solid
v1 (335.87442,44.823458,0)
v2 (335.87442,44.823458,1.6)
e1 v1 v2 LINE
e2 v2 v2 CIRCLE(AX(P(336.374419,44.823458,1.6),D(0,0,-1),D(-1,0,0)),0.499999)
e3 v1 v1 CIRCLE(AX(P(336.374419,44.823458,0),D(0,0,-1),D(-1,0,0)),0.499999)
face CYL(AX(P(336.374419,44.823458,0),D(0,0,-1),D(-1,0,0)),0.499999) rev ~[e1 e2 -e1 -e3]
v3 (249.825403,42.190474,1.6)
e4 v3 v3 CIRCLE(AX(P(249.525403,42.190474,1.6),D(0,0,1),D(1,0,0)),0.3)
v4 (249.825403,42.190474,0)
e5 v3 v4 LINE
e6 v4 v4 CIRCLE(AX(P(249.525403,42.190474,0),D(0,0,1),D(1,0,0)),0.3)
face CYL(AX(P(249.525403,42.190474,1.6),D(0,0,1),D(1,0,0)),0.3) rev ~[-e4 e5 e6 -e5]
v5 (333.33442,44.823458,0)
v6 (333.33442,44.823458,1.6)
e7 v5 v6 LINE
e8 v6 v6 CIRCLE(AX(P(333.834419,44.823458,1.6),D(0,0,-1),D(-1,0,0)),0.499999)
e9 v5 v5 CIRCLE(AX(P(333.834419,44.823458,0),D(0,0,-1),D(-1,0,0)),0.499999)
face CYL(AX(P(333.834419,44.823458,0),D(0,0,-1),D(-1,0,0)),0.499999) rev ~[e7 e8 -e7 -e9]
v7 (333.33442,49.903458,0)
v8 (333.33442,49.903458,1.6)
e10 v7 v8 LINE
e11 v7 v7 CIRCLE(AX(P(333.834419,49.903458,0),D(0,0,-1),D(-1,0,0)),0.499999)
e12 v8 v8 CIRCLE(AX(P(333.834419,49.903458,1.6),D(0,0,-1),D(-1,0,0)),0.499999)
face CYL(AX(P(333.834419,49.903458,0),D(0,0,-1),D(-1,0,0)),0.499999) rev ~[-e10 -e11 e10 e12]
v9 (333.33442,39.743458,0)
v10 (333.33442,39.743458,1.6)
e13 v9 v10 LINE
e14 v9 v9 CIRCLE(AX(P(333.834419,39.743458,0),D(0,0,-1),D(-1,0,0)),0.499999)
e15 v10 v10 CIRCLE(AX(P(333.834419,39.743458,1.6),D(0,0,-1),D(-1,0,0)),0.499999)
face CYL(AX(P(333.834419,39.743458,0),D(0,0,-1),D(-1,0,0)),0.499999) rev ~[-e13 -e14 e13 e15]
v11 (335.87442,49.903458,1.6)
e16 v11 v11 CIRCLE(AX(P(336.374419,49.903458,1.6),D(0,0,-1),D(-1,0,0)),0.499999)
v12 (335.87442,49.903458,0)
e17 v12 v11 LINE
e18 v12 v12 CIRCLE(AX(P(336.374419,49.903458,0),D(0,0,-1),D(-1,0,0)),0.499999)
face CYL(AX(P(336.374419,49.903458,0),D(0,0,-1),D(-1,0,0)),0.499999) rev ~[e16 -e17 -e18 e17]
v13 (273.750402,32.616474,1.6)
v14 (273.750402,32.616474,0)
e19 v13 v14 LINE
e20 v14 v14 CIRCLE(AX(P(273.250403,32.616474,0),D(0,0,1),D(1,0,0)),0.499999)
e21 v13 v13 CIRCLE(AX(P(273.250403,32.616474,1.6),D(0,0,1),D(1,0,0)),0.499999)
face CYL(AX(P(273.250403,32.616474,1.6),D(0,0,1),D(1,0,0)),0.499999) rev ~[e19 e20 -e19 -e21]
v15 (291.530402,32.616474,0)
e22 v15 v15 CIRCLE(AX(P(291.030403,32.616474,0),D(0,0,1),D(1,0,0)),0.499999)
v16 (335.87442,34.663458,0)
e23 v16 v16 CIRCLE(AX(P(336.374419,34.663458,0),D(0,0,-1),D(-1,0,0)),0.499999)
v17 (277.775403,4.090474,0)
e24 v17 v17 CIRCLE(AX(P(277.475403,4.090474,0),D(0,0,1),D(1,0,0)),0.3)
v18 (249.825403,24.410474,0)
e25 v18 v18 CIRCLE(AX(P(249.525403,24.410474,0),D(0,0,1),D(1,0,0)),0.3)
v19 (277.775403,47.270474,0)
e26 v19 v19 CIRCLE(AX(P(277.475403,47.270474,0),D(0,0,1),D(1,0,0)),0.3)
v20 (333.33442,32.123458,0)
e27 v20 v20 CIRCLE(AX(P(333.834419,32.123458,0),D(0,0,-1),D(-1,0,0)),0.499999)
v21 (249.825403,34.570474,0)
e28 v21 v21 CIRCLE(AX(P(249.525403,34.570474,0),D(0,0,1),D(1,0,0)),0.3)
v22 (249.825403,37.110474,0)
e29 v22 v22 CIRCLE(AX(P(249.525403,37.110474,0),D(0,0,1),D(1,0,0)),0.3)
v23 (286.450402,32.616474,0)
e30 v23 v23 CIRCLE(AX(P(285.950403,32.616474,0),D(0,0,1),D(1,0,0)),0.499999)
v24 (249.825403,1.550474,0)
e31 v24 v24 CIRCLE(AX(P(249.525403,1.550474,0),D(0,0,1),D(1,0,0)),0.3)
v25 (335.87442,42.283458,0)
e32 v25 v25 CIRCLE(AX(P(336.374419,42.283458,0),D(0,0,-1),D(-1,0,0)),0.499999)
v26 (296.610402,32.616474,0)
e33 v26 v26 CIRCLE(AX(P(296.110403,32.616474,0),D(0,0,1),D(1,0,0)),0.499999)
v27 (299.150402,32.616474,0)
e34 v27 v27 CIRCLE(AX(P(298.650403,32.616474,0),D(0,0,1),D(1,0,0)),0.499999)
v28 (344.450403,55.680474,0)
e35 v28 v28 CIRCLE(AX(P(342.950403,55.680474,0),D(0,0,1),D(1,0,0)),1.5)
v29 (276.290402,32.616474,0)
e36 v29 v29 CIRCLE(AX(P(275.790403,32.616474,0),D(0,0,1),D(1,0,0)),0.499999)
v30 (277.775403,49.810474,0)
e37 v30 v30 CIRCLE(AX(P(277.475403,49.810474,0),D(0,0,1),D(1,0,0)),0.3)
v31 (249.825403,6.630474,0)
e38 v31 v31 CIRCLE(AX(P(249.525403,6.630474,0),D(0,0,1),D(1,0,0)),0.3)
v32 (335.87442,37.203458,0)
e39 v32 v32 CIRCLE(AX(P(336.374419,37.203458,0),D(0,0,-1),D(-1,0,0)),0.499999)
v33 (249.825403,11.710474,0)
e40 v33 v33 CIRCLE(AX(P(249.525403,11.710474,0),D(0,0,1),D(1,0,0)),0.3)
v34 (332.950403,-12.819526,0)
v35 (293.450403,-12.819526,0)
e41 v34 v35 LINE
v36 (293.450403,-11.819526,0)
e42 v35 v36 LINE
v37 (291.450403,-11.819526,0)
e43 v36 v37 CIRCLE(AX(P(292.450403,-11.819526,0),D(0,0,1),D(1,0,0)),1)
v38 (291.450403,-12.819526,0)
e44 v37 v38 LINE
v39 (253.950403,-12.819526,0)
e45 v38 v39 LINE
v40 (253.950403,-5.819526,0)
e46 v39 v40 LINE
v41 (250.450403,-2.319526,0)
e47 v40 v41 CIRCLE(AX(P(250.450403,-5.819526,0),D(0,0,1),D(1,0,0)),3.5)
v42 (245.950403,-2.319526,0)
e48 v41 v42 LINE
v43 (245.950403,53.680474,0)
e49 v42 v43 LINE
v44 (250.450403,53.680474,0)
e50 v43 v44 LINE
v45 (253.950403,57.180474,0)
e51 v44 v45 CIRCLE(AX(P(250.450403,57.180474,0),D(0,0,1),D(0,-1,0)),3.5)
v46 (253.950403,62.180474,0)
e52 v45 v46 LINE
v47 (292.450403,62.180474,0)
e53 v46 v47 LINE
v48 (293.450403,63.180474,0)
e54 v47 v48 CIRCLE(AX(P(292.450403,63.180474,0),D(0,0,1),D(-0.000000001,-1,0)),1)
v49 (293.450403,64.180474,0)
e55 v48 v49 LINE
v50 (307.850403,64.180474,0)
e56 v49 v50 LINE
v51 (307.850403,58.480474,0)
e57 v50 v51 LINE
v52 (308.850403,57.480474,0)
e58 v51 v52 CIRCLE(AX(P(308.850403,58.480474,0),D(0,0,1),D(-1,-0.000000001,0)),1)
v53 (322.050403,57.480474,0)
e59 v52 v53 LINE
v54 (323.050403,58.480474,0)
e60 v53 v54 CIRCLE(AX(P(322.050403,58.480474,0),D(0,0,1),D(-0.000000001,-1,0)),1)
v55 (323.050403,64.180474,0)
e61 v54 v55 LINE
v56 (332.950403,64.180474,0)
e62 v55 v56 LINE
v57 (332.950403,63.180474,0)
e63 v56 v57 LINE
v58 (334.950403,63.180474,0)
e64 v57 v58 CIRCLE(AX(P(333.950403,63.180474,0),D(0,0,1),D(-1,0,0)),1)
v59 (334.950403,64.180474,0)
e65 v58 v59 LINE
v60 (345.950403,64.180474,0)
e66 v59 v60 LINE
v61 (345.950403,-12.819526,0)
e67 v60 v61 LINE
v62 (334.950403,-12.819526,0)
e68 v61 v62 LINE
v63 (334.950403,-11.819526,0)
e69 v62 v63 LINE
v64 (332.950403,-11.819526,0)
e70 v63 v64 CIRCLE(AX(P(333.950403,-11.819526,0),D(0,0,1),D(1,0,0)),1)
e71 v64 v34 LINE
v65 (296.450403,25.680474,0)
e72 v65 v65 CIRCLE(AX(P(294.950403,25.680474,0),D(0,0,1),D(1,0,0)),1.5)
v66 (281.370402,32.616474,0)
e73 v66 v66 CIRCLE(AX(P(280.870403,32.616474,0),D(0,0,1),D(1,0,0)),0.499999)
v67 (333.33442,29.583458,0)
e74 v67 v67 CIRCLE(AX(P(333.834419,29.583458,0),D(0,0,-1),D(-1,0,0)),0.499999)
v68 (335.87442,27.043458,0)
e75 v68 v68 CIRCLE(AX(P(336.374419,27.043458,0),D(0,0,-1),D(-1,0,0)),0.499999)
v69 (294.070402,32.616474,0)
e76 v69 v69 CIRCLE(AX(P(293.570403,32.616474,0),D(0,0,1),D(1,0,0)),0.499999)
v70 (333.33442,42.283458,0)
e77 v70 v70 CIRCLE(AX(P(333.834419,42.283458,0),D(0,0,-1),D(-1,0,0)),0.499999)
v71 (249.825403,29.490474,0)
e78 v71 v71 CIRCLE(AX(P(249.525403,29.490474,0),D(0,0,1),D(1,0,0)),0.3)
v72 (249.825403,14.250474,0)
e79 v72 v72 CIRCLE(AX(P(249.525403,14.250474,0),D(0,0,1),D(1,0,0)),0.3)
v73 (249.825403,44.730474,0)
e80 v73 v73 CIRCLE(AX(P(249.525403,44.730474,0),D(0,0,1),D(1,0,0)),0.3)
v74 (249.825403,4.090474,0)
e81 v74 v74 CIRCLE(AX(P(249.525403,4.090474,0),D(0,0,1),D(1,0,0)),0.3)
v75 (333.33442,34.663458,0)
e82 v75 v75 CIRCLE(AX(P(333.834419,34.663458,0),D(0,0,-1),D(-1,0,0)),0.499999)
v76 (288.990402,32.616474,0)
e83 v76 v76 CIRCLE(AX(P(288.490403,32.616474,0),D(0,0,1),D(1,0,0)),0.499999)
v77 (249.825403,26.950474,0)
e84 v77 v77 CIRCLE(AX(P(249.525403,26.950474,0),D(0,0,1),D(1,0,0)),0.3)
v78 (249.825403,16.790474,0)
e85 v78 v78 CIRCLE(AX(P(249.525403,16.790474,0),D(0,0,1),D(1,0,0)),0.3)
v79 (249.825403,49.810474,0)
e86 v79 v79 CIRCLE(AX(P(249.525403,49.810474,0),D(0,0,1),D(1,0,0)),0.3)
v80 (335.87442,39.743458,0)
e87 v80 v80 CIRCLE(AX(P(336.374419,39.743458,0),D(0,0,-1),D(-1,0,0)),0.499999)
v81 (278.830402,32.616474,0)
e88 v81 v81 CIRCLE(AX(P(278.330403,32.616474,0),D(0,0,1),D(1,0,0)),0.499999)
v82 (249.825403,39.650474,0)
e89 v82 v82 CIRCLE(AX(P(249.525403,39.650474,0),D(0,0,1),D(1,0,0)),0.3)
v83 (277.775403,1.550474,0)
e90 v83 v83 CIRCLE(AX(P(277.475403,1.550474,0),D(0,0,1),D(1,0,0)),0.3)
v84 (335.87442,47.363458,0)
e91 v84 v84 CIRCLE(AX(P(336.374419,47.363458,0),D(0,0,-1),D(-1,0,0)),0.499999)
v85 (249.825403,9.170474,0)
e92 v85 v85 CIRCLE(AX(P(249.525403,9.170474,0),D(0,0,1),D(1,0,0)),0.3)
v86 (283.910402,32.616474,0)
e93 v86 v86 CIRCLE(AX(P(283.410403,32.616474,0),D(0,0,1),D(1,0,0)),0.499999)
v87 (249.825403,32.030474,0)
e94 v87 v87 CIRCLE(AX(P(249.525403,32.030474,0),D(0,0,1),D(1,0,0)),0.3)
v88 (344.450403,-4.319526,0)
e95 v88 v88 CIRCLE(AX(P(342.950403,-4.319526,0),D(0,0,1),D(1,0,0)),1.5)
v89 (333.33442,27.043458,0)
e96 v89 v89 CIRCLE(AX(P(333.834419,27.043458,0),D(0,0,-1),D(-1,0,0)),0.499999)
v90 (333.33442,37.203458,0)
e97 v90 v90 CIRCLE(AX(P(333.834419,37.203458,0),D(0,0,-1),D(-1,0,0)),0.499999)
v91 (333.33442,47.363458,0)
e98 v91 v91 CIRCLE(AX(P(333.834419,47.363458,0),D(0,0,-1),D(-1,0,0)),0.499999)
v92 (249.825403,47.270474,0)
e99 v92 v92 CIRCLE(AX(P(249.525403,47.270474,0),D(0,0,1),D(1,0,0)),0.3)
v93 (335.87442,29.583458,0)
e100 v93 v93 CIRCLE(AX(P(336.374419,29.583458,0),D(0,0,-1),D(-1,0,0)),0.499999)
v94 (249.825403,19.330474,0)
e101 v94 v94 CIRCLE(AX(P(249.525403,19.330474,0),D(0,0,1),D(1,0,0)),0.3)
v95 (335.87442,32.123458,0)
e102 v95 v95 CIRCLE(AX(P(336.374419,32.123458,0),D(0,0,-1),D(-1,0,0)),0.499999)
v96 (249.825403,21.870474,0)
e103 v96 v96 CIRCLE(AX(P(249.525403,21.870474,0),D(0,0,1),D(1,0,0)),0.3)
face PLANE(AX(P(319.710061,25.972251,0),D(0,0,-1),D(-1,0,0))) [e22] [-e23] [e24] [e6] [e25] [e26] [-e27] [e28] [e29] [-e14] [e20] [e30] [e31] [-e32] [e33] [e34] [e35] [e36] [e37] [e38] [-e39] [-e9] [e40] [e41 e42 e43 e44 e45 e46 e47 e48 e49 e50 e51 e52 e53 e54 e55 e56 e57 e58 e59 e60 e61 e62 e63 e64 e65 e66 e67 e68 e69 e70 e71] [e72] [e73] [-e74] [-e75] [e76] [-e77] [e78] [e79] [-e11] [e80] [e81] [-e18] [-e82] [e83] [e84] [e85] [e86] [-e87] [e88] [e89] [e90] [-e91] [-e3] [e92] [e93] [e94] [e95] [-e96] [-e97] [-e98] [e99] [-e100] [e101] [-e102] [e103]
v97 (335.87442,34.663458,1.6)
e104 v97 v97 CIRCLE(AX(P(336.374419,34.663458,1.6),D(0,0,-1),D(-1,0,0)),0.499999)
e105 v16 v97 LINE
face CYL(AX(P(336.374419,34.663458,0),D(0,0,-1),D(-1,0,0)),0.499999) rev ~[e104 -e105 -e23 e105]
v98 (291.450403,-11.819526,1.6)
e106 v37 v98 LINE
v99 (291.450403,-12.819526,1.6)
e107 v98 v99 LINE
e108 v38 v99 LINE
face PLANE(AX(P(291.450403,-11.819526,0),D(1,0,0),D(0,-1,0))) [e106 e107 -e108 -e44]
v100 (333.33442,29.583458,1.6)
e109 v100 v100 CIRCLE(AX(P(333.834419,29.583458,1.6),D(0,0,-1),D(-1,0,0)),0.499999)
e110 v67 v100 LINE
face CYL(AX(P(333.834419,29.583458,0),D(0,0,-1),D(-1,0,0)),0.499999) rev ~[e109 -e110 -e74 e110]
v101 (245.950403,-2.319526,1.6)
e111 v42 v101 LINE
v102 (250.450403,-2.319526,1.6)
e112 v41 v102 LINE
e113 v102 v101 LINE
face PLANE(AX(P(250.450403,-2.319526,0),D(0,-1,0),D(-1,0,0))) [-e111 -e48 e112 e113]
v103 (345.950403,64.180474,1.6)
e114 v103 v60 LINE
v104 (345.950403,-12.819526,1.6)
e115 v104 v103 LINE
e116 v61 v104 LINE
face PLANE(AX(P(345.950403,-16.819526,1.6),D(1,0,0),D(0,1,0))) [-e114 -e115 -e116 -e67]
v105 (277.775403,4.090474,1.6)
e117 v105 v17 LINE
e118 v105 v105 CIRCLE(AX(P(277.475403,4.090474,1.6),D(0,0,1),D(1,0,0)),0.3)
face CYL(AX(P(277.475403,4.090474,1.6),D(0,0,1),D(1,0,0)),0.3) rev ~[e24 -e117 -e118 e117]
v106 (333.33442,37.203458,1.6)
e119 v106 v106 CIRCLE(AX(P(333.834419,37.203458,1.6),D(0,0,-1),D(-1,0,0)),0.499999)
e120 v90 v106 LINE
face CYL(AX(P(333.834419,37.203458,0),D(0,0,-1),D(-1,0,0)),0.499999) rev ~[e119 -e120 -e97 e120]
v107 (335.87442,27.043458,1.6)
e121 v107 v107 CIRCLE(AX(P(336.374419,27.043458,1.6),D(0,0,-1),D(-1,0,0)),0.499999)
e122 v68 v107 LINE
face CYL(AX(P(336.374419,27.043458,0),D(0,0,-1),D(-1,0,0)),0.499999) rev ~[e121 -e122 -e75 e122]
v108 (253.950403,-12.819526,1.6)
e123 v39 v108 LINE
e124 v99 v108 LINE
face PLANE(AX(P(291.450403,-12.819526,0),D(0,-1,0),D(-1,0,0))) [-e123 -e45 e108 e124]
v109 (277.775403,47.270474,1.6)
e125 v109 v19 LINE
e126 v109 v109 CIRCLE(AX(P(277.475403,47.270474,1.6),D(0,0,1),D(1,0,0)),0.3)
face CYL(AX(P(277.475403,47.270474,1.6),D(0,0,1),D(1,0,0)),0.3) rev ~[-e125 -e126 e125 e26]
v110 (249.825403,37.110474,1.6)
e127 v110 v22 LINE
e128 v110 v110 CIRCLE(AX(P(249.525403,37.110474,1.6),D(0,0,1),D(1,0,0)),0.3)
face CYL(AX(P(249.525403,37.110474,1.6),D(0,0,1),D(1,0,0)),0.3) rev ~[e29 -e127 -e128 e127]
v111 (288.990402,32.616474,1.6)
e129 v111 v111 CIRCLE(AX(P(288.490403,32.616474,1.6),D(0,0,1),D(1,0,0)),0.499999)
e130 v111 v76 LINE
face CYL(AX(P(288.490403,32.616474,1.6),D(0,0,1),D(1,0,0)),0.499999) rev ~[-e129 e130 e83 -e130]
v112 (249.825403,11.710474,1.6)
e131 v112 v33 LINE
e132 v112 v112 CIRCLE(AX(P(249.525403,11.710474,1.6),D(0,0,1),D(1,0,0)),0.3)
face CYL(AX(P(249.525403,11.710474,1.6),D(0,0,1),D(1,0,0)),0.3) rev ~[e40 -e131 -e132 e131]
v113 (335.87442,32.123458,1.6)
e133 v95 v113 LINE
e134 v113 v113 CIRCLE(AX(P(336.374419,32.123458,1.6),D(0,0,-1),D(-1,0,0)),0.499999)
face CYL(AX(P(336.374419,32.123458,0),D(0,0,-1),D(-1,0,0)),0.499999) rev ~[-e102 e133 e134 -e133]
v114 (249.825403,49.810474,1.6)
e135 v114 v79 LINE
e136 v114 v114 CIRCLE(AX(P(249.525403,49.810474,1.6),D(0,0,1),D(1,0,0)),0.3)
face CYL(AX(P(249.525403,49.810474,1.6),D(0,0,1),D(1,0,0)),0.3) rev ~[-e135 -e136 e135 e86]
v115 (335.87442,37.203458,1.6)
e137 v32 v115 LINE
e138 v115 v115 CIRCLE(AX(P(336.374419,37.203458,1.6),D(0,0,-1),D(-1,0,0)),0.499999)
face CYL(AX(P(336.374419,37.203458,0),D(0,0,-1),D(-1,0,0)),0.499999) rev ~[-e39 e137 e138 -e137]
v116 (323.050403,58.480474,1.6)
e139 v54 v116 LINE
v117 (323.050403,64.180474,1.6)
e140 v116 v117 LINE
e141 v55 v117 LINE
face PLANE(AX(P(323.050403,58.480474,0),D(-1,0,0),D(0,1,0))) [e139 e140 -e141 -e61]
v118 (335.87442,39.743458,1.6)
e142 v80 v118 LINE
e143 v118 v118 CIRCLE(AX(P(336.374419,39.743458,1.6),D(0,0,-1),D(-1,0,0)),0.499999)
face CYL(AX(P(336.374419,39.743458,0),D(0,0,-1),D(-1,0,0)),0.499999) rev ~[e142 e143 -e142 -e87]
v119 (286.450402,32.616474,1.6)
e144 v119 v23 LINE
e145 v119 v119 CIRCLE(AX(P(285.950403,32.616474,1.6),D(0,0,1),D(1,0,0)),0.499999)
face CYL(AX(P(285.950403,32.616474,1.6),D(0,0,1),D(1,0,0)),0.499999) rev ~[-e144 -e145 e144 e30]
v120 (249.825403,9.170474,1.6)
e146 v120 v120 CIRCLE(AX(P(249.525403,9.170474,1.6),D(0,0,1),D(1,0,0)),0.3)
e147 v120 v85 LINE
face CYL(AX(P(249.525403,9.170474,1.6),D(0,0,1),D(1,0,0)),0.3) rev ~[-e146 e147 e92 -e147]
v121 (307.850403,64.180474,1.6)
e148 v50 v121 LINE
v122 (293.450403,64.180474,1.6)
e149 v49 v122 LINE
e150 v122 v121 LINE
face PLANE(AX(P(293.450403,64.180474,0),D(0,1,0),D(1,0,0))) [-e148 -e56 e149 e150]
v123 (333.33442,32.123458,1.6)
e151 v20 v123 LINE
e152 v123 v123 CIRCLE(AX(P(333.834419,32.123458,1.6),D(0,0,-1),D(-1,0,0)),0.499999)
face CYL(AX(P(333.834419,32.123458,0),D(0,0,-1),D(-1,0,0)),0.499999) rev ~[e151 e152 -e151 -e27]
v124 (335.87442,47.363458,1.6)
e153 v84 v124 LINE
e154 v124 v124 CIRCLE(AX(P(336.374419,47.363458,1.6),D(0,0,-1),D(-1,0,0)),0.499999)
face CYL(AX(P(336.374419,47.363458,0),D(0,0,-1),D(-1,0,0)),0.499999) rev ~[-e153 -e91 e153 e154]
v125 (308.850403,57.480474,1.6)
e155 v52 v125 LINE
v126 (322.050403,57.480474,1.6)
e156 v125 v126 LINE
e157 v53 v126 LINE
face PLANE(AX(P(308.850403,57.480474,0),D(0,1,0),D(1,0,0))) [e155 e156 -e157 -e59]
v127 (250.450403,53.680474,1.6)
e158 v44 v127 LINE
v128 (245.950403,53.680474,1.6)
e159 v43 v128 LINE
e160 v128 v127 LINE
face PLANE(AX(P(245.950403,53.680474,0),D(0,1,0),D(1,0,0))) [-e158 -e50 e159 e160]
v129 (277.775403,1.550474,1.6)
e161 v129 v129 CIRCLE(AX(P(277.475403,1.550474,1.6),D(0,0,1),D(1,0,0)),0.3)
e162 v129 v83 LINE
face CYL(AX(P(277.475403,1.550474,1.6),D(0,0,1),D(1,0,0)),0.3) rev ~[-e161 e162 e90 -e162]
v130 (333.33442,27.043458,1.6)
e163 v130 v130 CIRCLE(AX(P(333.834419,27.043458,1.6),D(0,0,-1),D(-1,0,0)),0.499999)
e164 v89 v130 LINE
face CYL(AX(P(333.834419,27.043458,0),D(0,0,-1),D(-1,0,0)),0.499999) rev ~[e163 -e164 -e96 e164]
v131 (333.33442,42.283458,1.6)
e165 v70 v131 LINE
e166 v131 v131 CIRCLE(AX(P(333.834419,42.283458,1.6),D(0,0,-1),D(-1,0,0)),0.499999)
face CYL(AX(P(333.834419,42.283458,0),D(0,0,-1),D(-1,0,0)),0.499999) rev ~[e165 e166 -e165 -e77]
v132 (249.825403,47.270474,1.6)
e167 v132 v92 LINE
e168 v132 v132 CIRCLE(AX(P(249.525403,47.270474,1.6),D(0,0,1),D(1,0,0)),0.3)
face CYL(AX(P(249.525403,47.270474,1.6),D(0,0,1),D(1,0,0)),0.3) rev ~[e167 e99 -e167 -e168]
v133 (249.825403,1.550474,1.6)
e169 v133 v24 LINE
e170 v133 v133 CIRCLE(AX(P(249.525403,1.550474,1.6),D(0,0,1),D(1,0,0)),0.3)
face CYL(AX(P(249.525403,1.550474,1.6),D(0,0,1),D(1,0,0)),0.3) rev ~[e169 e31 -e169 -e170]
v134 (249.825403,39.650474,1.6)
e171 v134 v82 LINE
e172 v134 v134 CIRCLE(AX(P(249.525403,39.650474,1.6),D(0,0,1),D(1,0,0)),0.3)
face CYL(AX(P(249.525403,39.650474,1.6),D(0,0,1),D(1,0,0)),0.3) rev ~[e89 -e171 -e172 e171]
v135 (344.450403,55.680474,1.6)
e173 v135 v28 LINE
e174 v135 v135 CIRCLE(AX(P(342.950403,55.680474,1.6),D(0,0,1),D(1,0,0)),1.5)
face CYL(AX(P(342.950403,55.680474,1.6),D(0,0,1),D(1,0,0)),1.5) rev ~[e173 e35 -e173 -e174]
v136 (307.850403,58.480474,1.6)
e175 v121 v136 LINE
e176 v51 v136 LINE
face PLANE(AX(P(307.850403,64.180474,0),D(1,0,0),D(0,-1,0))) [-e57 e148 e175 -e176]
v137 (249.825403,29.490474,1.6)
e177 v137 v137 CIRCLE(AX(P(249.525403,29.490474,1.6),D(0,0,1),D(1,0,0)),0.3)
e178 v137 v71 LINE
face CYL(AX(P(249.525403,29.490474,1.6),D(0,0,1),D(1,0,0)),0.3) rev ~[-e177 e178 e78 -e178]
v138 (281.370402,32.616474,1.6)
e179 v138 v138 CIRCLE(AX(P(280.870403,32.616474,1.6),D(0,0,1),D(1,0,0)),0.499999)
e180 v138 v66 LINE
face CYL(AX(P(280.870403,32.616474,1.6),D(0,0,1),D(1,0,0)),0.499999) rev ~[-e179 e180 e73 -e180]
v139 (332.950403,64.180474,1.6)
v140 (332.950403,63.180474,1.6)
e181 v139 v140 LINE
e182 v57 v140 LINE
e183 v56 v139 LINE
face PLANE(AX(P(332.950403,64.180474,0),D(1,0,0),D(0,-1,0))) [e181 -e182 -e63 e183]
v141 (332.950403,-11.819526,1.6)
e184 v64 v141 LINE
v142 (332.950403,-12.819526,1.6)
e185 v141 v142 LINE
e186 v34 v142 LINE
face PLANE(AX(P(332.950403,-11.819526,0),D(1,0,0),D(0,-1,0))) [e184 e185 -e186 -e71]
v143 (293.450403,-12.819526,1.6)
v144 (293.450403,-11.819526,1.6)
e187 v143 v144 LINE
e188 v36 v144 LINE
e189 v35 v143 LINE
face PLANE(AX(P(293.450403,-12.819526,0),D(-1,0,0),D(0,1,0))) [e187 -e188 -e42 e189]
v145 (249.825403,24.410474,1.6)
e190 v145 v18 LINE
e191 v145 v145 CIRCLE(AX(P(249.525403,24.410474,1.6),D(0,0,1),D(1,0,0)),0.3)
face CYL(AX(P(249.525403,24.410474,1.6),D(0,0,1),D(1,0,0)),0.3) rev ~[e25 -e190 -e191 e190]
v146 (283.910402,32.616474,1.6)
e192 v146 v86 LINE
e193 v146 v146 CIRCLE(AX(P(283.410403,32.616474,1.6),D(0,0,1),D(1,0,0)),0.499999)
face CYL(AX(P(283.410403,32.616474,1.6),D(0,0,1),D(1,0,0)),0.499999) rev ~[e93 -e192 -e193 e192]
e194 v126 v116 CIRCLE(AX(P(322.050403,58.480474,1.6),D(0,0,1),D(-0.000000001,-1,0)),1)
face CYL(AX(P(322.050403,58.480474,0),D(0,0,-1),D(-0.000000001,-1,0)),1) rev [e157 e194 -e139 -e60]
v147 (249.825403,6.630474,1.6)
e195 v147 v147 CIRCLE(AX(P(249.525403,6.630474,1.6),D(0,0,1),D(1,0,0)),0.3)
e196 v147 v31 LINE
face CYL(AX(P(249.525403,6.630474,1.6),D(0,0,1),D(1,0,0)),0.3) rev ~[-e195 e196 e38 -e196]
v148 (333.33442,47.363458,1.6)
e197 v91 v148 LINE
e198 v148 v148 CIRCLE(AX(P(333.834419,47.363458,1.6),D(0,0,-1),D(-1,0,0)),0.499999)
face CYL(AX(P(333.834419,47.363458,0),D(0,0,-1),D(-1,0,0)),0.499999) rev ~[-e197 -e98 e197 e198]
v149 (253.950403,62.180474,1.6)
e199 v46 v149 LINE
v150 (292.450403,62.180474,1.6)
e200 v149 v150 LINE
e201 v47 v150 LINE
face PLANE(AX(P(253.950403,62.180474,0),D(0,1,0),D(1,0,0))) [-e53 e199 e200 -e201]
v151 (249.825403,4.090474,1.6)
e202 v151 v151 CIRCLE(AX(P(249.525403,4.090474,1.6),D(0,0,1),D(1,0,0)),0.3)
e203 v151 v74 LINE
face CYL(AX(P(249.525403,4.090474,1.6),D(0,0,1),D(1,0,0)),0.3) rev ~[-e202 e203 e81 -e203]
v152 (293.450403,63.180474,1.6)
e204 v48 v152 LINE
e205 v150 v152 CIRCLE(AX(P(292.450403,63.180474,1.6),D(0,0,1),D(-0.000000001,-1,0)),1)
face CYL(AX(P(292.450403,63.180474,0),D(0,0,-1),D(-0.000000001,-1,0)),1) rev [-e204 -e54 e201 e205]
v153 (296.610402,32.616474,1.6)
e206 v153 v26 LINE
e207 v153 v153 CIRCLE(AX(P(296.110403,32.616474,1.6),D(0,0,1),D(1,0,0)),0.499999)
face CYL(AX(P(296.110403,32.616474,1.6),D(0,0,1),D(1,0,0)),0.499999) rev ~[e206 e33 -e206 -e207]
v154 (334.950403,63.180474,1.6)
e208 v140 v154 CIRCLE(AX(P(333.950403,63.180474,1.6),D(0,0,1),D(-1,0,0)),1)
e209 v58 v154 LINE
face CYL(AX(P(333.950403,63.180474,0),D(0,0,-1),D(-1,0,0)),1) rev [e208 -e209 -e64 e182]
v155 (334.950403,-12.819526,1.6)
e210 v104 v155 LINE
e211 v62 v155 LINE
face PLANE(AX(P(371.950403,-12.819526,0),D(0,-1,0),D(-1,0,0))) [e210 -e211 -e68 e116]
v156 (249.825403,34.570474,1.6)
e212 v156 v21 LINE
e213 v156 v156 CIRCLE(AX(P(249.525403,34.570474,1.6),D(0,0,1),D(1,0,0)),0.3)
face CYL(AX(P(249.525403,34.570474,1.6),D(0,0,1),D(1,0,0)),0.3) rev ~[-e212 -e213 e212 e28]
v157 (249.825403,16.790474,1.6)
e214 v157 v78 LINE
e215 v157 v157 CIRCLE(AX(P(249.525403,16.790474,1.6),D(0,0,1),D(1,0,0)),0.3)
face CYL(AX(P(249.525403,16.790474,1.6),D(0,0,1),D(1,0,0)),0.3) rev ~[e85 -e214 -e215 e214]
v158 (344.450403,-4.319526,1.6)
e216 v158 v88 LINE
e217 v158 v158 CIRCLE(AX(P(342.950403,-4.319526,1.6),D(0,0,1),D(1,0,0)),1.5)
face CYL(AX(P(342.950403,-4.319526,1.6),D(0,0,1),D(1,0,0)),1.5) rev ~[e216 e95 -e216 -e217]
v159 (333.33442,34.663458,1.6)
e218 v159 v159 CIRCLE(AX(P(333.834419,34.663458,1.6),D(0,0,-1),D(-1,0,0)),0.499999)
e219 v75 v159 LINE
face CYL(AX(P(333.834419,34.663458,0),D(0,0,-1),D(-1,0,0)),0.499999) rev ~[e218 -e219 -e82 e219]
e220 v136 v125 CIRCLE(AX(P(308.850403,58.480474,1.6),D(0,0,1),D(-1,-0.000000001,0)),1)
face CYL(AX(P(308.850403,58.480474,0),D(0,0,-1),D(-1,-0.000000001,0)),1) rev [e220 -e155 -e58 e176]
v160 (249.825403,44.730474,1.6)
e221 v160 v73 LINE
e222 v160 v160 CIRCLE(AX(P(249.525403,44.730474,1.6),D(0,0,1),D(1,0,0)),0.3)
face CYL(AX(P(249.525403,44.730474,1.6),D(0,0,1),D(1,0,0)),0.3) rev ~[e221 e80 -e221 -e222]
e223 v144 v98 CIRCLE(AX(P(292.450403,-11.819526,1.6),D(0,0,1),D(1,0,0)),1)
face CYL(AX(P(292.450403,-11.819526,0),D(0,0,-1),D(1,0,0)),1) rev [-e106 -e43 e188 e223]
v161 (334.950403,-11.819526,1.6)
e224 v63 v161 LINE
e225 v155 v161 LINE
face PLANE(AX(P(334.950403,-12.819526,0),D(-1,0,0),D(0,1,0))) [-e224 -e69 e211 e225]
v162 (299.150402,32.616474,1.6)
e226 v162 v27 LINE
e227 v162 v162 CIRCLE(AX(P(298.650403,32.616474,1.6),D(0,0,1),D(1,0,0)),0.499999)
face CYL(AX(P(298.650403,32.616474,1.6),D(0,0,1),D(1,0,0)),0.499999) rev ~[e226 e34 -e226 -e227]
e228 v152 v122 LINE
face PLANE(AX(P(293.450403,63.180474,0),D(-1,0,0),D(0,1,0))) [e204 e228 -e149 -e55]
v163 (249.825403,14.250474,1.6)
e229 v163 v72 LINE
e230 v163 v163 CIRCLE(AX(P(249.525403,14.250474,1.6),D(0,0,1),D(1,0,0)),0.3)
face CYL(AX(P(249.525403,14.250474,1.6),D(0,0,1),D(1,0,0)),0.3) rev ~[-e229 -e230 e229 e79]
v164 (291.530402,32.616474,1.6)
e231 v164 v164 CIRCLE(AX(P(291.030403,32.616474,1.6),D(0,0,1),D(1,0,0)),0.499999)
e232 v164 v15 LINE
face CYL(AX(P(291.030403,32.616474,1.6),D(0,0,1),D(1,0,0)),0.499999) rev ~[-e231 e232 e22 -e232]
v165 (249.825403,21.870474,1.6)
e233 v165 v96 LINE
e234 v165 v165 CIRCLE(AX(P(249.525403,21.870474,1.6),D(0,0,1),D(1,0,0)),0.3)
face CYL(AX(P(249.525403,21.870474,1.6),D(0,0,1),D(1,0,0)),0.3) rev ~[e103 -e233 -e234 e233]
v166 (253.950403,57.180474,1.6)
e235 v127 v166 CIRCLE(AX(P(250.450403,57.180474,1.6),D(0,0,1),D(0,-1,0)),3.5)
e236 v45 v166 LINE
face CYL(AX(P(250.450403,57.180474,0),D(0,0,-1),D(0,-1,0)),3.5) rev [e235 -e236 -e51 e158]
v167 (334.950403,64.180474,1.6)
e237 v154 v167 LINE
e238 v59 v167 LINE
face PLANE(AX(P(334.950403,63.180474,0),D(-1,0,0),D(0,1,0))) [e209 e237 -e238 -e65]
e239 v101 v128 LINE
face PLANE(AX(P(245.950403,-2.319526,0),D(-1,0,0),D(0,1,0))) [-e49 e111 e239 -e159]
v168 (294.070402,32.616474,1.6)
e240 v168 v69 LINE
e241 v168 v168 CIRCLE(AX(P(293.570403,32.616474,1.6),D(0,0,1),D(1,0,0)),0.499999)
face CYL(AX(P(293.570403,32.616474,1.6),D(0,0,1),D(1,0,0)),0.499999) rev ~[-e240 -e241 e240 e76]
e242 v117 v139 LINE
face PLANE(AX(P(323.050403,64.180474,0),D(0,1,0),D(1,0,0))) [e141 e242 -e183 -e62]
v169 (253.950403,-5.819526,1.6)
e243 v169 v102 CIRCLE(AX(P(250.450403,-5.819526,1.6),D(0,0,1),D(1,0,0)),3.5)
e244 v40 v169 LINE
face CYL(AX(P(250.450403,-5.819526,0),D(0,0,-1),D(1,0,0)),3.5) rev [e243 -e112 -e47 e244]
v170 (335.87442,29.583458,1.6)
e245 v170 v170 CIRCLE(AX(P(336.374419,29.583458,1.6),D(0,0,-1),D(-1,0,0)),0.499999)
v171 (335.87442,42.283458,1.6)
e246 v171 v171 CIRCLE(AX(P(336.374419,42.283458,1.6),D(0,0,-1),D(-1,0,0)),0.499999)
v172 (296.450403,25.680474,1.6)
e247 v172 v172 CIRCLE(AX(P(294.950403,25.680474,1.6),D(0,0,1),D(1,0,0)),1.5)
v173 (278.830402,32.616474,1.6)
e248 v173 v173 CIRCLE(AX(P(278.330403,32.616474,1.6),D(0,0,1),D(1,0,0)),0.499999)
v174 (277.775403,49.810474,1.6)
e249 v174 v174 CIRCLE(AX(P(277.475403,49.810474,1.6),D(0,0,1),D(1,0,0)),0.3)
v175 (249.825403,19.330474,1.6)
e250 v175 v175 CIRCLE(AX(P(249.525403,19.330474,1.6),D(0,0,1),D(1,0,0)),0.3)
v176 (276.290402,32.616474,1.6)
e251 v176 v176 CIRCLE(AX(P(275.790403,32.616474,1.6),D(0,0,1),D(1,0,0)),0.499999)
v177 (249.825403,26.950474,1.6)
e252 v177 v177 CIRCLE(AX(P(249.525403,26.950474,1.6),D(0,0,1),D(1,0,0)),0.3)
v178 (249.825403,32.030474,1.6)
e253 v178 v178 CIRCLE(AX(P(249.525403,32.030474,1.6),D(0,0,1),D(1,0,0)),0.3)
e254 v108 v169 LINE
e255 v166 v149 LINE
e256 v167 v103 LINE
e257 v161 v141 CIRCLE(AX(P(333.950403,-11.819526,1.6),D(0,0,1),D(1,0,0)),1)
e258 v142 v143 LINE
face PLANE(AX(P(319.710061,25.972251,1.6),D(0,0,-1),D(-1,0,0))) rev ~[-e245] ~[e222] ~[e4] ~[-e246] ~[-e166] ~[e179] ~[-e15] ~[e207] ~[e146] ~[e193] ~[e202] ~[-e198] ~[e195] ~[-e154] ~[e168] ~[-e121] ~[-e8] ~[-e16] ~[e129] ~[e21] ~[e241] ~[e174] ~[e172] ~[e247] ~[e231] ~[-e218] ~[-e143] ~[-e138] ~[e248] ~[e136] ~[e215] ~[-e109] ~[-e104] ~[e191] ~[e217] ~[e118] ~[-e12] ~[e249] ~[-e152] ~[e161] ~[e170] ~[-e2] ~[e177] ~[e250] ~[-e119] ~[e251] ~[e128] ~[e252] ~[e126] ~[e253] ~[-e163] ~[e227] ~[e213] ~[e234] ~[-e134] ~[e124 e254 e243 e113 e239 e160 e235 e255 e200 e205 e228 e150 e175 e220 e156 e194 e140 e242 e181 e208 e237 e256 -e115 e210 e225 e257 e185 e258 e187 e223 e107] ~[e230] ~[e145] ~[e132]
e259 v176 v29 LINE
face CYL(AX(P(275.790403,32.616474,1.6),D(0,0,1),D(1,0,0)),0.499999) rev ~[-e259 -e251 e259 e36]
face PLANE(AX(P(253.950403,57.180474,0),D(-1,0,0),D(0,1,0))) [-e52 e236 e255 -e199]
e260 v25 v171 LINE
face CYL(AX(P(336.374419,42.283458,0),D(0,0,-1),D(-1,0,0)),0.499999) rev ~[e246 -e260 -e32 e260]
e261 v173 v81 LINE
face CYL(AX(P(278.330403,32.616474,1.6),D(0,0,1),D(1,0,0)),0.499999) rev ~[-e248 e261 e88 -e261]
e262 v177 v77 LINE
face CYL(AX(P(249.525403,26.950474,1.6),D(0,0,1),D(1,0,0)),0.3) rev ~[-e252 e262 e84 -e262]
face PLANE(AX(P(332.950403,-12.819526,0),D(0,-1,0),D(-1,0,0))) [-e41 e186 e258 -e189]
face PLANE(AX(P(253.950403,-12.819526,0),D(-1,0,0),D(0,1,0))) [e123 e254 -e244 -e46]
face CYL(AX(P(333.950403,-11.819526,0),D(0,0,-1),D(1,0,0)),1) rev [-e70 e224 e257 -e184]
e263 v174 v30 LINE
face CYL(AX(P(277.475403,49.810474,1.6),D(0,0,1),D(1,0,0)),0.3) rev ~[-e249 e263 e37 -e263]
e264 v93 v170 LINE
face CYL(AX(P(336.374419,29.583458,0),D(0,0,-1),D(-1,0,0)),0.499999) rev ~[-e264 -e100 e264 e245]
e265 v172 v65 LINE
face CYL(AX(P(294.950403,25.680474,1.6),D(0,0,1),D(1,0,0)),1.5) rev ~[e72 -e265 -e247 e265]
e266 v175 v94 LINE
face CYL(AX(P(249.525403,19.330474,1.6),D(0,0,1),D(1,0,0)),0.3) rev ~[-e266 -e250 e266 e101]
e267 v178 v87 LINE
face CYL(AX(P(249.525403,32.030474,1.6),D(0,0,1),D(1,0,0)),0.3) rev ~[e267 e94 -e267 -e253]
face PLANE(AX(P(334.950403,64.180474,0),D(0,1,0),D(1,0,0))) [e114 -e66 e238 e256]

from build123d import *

# Parameters (mm, degrees)
BOSS_EXTRUDE1_DEPTH = 1.6
SKETCH3_R           = 1.5
CUT_EXTRUDE1_DEPTH  = 2.6
SKETCH4_W           = 50
SKETCH4_H           = 85
CUT_EXTRUDE2_DEPTH  = 2.6
SKETCH5_R           = 0.3
CUT_EXTRUDE3_DEPTH  = 2.6
SKETCH6_R           = 0.499999
CUT_EXTRUDE4_DEPTH  = 2.6
SKETCH7_R           = 0.499999
CUT_EXTRUDE5_DEPTH  = 2.6


with BuildPart() as part:
    # Board Outline → Boss-Extrude1 (new body)
    with BuildSketch(Plane.XY):
        with BuildLine():
            Line((394.450402667, 53.680474091), (394.450402667, -2.319525909))
            Line((394.450402667, -2.319525909), (375.450402667, -2.319525909))
            ThreePointArc((375.450402667, -2.319525909), (372.975528933, -3.344652175), (371.950402667, -5.819525909))
            Line((371.950402667, -5.819525909), (371.950402667, -12.819525909))
            Line((371.950402667, -12.819525909), (334.950402667, -12.819525909))
            Line((334.950402667, -12.819525909), (334.950402667, -11.819525909))
            ThreePointArc((334.950402667, -11.819525909), (333.950402667, -10.819525909), (332.950402667, -11.819525909))
            Line((332.950402667, -11.819525909), (332.950402667, -12.819525909))
            Line((332.950402667, -12.819525909), (293.450402667, -12.819525909))
            Line((293.450402667, -12.819525909), (293.450402667, -11.819525909))
            ThreePointArc((293.450402667, -11.819525909), (292.450402667, -10.819525909), (291.450402667, -11.819525909))
            Line((291.450402667, -11.819525909), (291.450402667, -12.819525909))
            Line((291.450402667, -12.819525909), (253.950402667, -12.819525909))
            Line((253.950402667, -12.819525909), (253.950402667, -5.819525909))
            ThreePointArc((253.950402667, -5.819525909), (252.925276401, -3.344652175), (250.450402667, -2.319525909))
            Line((250.450402667, -2.319525909), (245.950402667, -2.319525909))
            Line((245.950402667, -2.319525909), (245.950402667, 53.680474091))
            Line((245.950402667, 53.680474091), (250.450402667, 53.680474091))
            ThreePointArc((250.450402667, 53.680474091), (252.925276401, 54.705600357), (253.950402667, 57.180474091))
            Line((253.950402667, 57.180474091), (253.950402667, 62.180474091))
            Line((253.950402667, 62.180474091), (292.450402667, 62.180474091))
            ThreePointArc((292.450402667, 62.180474091), (293.157509449, 62.47336731), (293.450402667, 63.180474091))
            Line((293.450402667, 63.180474091), (293.450402667, 64.180474091))
            Line((293.450402667, 64.180474091), (307.850402667, 64.180474091))
            Line((307.850402667, 64.180474091), (307.850402667, 58.480474091))
            ThreePointArc((307.850402667, 58.480474091), (308.143295886, 57.77336731), (308.850402667, 57.480474091))
            Line((308.850402667, 57.480474091), (322.050402667, 57.480474091))
            ThreePointArc((322.050402667, 57.480474091), (322.757509449, 57.77336731), (323.050402667, 58.480474091))
            Line((323.050402667, 58.480474091), (323.050402667, 64.180474091))
            Line((323.050402667, 64.180474091), (332.950402667, 64.180474091))
            Line((332.950402667, 64.180474091), (332.950402667, 63.180474091))
            ThreePointArc((332.950402667, 63.180474091), (333.950402667, 62.180474091), (334.950402667, 63.180474091))
            Line((334.950402667, 63.180474091), (334.950402667, 64.180474091))
            Line((334.950402667, 64.180474091), (371.950402667, 64.180474091))
            Line((371.950402667, 64.180474091), (371.950402667, 57.180474091))
            ThreePointArc((371.950402667, 57.180474091), (372.975528933, 54.705600357), (375.450402667, 53.680474091))
            Line((375.450402667, 53.680474091), (394.450402667, 53.680474091))
        make_face()
    extrude(amount=BOSS_EXTRUDE1_DEPTH)

    # Sketch3 → Cut-Extrude1 (cut, through all)
    with BuildSketch(Plane.XY.offset(1.6)):
        with Locations((294.950402667, 25.680474091)):
            Circle(SKETCH3_R)
        with Locations((342.950402667, -4.319525909)):
            Circle(SKETCH3_R)
        with Locations((342.950402667, 55.680474091)):
            Circle(SKETCH3_R)
    extrude(amount=-CUT_EXTRUDE1_DEPTH, mode=Mode.SUBTRACT)

    # Sketch4 → Cut-Extrude2 (cut, through all)
    with BuildSketch(Plane.XY.offset(1.6)):
        with Locations((370.950402667, 25.680474091)):
            Rectangle(SKETCH4_W, SKETCH4_H)
    extrude(amount=-CUT_EXTRUDE2_DEPTH, mode=Mode.SUBTRACT)

    # Sketch5 → Cut-Extrude3 (cut, through all)
    with BuildSketch(Plane.XY.offset(1.6)):
        with Locations((249.525402667, 49.810474091)):
            Circle(SKETCH5_R)
        with Locations((277.475402667, 49.810474091)):
            Circle(SKETCH5_R)
        with Locations((277.475402667, 47.270474091)):
            Circle(SKETCH5_R)
        with Locations((277.475402667, 4.090474091)):
            Circle(SKETCH5_R)
        with Locations((249.525402667, 47.270474091)):
            Circle(SKETCH5_R)
        with Locations((249.525402667, 44.730474091)):
            Circle(SKETCH5_R)
        with Locations((249.525402667, 42.190474091)):
            Circle(SKETCH5_R)
        with Locations((249.525402667, 39.650474091)):
            Circle(SKETCH5_R)
        with Locations((249.525402667, 37.110474091)):
            Circle(SKETCH5_R)
        with Locations((249.525402667, 34.570474091)):
            Circle(SKETCH5_R)
        with Locations((249.525402667, 32.030474091)):
            Circle(SKETCH5_R)
        with Locations((249.525402667, 29.490474091)):
            Circle(SKETCH5_R)
        with Locations((249.525402667, 26.950474091)):
            Circle(SKETCH5_R)
        with Locations((249.525402667, 24.410474091)):
            Circle(SKETCH5_R)
        with Locations((249.525402667, 21.870474091)):
            Circle(SKETCH5_R)
        with Locations((249.525402667, 19.330474091)):
            Circle(SKETCH5_R)
        with Locations((249.525402667, 16.790474091)):
            Circle(SKETCH5_R)
        with Locations((249.525402667, 14.250474091)):
            Circle(SKETCH5_R)
        with Locations((249.525402667, 11.710474091)):
            Circle(SKETCH5_R)
        with Locations((249.525402667, 9.170474091)):
            Circle(SKETCH5_R)
        with Locations((249.525402667, 6.630474091)):
            Circle(SKETCH5_R)
        with Locations((249.525402667, 4.090474091)):
            Circle(SKETCH5_R)
        with Locations((249.525402667, 1.550474091)):
            Circle(SKETCH5_R)
        with Locations((277.475402667, 1.550474091)):
            Circle(SKETCH5_R)
    extrude(amount=-CUT_EXTRUDE3_DEPTH, mode=Mode.SUBTRACT)

    # Sketch6 → Cut-Extrude4 (cut, through all)
    with BuildSketch(Plane(origin=(0, 0, 0), x_dir=(-1, 0, 0), z_dir=(0, 0, -1))):
        with Locations((-333.834418667, 49.903457691)):
            Circle(SKETCH6_R)
        with Locations((-333.834418667, 47.363457691)):
            Circle(SKETCH6_R)
        with Locations((-336.374418667, 47.363457691)):
            Circle(SKETCH6_R)
        with Locations((-336.374418667, 44.823457691)):
            Circle(SKETCH6_R)
        with Locations((-333.834418667, 44.823457691)):
            Circle(SKETCH6_R)
        with Locations((-333.834418667, 34.663457691)):
            Circle(SKETCH6_R)
        with Locations((-333.834418667, 37.203457691)):
            Circle(SKETCH6_R)
        with Locations((-333.834418667, 39.743457691)):
            Circle(SKETCH6_R)
        with Locations((-333.834418667, 42.283457691)):
            Circle(SKETCH6_R)
        with Locations((-336.374418667, 42.283457691)):
            Circle(SKETCH6_R)
        with Locations((-336.374418667, 39.743457691)):
            Circle(SKETCH6_R)
        with Locations((-336.374418667, 37.203457691)):
            Circle(SKETCH6_R)
        with Locations((-333.834418667, 32.123457691)):
            Circle(SKETCH6_R)
        with Locations((-336.374418667, 34.663457691)):
            Circle(SKETCH6_R)
        with Locations((-336.374418667, 32.123457691)):
            Circle(SKETCH6_R)
        with Locations((-333.834418667, 29.583457691)):
            Circle(SKETCH6_R)
        with Locations((-336.374418667, 27.043457691)):
            Circle(SKETCH6_R)
        with Locations((-333.834418667, 27.043457691)):
            Circle(SKETCH6_R)
        with Locations((-336.374418667, 29.583457691)):
            Circle(SKETCH6_R)
        with Locations((-336.374418667, 49.903457691)):
            Circle(SKETCH6_R)
    extrude(amount=-CUT_EXTRUDE4_DEPTH, mode=Mode.SUBTRACT)

    # Sketch7 → Cut-Extrude5 (cut, through all)
    with BuildSketch(Plane.XY.offset(1.6)):
        with Locations((298.650402667, 32.616474091)):
            Circle(SKETCH7_R)
        with Locations((296.110402667, 32.616474091)):
            Circle(SKETCH7_R)
        with Locations((293.570402667, 32.616474091)):
            Circle(SKETCH7_R)
        with Locations((291.030402667, 32.616474091)):
            Circle(SKETCH7_R)
        with Locations((288.490402667, 32.616474091)):
            Circle(SKETCH7_R)
        with Locations((285.950402667, 32.616474091)):
            Circle(SKETCH7_R)
        with Locations((283.410402667, 32.616474091)):
            Circle(SKETCH7_R)
        with Locations((280.870402667, 32.616474091)):
            Circle(SKETCH7_R)
        with Locations((278.330402667, 32.616474091)):
            Circle(SKETCH7_R)
        with Locations((275.790402667, 32.616474091)):
            Circle(SKETCH7_R)
        with Locations((273.250402667, 32.616474091)):
            Circle(SKETCH7_R)
    extrude(amount=-CUT_EXTRUDE5_DEPTH, mode=Mode.SUBTRACT)


solid = part.part
